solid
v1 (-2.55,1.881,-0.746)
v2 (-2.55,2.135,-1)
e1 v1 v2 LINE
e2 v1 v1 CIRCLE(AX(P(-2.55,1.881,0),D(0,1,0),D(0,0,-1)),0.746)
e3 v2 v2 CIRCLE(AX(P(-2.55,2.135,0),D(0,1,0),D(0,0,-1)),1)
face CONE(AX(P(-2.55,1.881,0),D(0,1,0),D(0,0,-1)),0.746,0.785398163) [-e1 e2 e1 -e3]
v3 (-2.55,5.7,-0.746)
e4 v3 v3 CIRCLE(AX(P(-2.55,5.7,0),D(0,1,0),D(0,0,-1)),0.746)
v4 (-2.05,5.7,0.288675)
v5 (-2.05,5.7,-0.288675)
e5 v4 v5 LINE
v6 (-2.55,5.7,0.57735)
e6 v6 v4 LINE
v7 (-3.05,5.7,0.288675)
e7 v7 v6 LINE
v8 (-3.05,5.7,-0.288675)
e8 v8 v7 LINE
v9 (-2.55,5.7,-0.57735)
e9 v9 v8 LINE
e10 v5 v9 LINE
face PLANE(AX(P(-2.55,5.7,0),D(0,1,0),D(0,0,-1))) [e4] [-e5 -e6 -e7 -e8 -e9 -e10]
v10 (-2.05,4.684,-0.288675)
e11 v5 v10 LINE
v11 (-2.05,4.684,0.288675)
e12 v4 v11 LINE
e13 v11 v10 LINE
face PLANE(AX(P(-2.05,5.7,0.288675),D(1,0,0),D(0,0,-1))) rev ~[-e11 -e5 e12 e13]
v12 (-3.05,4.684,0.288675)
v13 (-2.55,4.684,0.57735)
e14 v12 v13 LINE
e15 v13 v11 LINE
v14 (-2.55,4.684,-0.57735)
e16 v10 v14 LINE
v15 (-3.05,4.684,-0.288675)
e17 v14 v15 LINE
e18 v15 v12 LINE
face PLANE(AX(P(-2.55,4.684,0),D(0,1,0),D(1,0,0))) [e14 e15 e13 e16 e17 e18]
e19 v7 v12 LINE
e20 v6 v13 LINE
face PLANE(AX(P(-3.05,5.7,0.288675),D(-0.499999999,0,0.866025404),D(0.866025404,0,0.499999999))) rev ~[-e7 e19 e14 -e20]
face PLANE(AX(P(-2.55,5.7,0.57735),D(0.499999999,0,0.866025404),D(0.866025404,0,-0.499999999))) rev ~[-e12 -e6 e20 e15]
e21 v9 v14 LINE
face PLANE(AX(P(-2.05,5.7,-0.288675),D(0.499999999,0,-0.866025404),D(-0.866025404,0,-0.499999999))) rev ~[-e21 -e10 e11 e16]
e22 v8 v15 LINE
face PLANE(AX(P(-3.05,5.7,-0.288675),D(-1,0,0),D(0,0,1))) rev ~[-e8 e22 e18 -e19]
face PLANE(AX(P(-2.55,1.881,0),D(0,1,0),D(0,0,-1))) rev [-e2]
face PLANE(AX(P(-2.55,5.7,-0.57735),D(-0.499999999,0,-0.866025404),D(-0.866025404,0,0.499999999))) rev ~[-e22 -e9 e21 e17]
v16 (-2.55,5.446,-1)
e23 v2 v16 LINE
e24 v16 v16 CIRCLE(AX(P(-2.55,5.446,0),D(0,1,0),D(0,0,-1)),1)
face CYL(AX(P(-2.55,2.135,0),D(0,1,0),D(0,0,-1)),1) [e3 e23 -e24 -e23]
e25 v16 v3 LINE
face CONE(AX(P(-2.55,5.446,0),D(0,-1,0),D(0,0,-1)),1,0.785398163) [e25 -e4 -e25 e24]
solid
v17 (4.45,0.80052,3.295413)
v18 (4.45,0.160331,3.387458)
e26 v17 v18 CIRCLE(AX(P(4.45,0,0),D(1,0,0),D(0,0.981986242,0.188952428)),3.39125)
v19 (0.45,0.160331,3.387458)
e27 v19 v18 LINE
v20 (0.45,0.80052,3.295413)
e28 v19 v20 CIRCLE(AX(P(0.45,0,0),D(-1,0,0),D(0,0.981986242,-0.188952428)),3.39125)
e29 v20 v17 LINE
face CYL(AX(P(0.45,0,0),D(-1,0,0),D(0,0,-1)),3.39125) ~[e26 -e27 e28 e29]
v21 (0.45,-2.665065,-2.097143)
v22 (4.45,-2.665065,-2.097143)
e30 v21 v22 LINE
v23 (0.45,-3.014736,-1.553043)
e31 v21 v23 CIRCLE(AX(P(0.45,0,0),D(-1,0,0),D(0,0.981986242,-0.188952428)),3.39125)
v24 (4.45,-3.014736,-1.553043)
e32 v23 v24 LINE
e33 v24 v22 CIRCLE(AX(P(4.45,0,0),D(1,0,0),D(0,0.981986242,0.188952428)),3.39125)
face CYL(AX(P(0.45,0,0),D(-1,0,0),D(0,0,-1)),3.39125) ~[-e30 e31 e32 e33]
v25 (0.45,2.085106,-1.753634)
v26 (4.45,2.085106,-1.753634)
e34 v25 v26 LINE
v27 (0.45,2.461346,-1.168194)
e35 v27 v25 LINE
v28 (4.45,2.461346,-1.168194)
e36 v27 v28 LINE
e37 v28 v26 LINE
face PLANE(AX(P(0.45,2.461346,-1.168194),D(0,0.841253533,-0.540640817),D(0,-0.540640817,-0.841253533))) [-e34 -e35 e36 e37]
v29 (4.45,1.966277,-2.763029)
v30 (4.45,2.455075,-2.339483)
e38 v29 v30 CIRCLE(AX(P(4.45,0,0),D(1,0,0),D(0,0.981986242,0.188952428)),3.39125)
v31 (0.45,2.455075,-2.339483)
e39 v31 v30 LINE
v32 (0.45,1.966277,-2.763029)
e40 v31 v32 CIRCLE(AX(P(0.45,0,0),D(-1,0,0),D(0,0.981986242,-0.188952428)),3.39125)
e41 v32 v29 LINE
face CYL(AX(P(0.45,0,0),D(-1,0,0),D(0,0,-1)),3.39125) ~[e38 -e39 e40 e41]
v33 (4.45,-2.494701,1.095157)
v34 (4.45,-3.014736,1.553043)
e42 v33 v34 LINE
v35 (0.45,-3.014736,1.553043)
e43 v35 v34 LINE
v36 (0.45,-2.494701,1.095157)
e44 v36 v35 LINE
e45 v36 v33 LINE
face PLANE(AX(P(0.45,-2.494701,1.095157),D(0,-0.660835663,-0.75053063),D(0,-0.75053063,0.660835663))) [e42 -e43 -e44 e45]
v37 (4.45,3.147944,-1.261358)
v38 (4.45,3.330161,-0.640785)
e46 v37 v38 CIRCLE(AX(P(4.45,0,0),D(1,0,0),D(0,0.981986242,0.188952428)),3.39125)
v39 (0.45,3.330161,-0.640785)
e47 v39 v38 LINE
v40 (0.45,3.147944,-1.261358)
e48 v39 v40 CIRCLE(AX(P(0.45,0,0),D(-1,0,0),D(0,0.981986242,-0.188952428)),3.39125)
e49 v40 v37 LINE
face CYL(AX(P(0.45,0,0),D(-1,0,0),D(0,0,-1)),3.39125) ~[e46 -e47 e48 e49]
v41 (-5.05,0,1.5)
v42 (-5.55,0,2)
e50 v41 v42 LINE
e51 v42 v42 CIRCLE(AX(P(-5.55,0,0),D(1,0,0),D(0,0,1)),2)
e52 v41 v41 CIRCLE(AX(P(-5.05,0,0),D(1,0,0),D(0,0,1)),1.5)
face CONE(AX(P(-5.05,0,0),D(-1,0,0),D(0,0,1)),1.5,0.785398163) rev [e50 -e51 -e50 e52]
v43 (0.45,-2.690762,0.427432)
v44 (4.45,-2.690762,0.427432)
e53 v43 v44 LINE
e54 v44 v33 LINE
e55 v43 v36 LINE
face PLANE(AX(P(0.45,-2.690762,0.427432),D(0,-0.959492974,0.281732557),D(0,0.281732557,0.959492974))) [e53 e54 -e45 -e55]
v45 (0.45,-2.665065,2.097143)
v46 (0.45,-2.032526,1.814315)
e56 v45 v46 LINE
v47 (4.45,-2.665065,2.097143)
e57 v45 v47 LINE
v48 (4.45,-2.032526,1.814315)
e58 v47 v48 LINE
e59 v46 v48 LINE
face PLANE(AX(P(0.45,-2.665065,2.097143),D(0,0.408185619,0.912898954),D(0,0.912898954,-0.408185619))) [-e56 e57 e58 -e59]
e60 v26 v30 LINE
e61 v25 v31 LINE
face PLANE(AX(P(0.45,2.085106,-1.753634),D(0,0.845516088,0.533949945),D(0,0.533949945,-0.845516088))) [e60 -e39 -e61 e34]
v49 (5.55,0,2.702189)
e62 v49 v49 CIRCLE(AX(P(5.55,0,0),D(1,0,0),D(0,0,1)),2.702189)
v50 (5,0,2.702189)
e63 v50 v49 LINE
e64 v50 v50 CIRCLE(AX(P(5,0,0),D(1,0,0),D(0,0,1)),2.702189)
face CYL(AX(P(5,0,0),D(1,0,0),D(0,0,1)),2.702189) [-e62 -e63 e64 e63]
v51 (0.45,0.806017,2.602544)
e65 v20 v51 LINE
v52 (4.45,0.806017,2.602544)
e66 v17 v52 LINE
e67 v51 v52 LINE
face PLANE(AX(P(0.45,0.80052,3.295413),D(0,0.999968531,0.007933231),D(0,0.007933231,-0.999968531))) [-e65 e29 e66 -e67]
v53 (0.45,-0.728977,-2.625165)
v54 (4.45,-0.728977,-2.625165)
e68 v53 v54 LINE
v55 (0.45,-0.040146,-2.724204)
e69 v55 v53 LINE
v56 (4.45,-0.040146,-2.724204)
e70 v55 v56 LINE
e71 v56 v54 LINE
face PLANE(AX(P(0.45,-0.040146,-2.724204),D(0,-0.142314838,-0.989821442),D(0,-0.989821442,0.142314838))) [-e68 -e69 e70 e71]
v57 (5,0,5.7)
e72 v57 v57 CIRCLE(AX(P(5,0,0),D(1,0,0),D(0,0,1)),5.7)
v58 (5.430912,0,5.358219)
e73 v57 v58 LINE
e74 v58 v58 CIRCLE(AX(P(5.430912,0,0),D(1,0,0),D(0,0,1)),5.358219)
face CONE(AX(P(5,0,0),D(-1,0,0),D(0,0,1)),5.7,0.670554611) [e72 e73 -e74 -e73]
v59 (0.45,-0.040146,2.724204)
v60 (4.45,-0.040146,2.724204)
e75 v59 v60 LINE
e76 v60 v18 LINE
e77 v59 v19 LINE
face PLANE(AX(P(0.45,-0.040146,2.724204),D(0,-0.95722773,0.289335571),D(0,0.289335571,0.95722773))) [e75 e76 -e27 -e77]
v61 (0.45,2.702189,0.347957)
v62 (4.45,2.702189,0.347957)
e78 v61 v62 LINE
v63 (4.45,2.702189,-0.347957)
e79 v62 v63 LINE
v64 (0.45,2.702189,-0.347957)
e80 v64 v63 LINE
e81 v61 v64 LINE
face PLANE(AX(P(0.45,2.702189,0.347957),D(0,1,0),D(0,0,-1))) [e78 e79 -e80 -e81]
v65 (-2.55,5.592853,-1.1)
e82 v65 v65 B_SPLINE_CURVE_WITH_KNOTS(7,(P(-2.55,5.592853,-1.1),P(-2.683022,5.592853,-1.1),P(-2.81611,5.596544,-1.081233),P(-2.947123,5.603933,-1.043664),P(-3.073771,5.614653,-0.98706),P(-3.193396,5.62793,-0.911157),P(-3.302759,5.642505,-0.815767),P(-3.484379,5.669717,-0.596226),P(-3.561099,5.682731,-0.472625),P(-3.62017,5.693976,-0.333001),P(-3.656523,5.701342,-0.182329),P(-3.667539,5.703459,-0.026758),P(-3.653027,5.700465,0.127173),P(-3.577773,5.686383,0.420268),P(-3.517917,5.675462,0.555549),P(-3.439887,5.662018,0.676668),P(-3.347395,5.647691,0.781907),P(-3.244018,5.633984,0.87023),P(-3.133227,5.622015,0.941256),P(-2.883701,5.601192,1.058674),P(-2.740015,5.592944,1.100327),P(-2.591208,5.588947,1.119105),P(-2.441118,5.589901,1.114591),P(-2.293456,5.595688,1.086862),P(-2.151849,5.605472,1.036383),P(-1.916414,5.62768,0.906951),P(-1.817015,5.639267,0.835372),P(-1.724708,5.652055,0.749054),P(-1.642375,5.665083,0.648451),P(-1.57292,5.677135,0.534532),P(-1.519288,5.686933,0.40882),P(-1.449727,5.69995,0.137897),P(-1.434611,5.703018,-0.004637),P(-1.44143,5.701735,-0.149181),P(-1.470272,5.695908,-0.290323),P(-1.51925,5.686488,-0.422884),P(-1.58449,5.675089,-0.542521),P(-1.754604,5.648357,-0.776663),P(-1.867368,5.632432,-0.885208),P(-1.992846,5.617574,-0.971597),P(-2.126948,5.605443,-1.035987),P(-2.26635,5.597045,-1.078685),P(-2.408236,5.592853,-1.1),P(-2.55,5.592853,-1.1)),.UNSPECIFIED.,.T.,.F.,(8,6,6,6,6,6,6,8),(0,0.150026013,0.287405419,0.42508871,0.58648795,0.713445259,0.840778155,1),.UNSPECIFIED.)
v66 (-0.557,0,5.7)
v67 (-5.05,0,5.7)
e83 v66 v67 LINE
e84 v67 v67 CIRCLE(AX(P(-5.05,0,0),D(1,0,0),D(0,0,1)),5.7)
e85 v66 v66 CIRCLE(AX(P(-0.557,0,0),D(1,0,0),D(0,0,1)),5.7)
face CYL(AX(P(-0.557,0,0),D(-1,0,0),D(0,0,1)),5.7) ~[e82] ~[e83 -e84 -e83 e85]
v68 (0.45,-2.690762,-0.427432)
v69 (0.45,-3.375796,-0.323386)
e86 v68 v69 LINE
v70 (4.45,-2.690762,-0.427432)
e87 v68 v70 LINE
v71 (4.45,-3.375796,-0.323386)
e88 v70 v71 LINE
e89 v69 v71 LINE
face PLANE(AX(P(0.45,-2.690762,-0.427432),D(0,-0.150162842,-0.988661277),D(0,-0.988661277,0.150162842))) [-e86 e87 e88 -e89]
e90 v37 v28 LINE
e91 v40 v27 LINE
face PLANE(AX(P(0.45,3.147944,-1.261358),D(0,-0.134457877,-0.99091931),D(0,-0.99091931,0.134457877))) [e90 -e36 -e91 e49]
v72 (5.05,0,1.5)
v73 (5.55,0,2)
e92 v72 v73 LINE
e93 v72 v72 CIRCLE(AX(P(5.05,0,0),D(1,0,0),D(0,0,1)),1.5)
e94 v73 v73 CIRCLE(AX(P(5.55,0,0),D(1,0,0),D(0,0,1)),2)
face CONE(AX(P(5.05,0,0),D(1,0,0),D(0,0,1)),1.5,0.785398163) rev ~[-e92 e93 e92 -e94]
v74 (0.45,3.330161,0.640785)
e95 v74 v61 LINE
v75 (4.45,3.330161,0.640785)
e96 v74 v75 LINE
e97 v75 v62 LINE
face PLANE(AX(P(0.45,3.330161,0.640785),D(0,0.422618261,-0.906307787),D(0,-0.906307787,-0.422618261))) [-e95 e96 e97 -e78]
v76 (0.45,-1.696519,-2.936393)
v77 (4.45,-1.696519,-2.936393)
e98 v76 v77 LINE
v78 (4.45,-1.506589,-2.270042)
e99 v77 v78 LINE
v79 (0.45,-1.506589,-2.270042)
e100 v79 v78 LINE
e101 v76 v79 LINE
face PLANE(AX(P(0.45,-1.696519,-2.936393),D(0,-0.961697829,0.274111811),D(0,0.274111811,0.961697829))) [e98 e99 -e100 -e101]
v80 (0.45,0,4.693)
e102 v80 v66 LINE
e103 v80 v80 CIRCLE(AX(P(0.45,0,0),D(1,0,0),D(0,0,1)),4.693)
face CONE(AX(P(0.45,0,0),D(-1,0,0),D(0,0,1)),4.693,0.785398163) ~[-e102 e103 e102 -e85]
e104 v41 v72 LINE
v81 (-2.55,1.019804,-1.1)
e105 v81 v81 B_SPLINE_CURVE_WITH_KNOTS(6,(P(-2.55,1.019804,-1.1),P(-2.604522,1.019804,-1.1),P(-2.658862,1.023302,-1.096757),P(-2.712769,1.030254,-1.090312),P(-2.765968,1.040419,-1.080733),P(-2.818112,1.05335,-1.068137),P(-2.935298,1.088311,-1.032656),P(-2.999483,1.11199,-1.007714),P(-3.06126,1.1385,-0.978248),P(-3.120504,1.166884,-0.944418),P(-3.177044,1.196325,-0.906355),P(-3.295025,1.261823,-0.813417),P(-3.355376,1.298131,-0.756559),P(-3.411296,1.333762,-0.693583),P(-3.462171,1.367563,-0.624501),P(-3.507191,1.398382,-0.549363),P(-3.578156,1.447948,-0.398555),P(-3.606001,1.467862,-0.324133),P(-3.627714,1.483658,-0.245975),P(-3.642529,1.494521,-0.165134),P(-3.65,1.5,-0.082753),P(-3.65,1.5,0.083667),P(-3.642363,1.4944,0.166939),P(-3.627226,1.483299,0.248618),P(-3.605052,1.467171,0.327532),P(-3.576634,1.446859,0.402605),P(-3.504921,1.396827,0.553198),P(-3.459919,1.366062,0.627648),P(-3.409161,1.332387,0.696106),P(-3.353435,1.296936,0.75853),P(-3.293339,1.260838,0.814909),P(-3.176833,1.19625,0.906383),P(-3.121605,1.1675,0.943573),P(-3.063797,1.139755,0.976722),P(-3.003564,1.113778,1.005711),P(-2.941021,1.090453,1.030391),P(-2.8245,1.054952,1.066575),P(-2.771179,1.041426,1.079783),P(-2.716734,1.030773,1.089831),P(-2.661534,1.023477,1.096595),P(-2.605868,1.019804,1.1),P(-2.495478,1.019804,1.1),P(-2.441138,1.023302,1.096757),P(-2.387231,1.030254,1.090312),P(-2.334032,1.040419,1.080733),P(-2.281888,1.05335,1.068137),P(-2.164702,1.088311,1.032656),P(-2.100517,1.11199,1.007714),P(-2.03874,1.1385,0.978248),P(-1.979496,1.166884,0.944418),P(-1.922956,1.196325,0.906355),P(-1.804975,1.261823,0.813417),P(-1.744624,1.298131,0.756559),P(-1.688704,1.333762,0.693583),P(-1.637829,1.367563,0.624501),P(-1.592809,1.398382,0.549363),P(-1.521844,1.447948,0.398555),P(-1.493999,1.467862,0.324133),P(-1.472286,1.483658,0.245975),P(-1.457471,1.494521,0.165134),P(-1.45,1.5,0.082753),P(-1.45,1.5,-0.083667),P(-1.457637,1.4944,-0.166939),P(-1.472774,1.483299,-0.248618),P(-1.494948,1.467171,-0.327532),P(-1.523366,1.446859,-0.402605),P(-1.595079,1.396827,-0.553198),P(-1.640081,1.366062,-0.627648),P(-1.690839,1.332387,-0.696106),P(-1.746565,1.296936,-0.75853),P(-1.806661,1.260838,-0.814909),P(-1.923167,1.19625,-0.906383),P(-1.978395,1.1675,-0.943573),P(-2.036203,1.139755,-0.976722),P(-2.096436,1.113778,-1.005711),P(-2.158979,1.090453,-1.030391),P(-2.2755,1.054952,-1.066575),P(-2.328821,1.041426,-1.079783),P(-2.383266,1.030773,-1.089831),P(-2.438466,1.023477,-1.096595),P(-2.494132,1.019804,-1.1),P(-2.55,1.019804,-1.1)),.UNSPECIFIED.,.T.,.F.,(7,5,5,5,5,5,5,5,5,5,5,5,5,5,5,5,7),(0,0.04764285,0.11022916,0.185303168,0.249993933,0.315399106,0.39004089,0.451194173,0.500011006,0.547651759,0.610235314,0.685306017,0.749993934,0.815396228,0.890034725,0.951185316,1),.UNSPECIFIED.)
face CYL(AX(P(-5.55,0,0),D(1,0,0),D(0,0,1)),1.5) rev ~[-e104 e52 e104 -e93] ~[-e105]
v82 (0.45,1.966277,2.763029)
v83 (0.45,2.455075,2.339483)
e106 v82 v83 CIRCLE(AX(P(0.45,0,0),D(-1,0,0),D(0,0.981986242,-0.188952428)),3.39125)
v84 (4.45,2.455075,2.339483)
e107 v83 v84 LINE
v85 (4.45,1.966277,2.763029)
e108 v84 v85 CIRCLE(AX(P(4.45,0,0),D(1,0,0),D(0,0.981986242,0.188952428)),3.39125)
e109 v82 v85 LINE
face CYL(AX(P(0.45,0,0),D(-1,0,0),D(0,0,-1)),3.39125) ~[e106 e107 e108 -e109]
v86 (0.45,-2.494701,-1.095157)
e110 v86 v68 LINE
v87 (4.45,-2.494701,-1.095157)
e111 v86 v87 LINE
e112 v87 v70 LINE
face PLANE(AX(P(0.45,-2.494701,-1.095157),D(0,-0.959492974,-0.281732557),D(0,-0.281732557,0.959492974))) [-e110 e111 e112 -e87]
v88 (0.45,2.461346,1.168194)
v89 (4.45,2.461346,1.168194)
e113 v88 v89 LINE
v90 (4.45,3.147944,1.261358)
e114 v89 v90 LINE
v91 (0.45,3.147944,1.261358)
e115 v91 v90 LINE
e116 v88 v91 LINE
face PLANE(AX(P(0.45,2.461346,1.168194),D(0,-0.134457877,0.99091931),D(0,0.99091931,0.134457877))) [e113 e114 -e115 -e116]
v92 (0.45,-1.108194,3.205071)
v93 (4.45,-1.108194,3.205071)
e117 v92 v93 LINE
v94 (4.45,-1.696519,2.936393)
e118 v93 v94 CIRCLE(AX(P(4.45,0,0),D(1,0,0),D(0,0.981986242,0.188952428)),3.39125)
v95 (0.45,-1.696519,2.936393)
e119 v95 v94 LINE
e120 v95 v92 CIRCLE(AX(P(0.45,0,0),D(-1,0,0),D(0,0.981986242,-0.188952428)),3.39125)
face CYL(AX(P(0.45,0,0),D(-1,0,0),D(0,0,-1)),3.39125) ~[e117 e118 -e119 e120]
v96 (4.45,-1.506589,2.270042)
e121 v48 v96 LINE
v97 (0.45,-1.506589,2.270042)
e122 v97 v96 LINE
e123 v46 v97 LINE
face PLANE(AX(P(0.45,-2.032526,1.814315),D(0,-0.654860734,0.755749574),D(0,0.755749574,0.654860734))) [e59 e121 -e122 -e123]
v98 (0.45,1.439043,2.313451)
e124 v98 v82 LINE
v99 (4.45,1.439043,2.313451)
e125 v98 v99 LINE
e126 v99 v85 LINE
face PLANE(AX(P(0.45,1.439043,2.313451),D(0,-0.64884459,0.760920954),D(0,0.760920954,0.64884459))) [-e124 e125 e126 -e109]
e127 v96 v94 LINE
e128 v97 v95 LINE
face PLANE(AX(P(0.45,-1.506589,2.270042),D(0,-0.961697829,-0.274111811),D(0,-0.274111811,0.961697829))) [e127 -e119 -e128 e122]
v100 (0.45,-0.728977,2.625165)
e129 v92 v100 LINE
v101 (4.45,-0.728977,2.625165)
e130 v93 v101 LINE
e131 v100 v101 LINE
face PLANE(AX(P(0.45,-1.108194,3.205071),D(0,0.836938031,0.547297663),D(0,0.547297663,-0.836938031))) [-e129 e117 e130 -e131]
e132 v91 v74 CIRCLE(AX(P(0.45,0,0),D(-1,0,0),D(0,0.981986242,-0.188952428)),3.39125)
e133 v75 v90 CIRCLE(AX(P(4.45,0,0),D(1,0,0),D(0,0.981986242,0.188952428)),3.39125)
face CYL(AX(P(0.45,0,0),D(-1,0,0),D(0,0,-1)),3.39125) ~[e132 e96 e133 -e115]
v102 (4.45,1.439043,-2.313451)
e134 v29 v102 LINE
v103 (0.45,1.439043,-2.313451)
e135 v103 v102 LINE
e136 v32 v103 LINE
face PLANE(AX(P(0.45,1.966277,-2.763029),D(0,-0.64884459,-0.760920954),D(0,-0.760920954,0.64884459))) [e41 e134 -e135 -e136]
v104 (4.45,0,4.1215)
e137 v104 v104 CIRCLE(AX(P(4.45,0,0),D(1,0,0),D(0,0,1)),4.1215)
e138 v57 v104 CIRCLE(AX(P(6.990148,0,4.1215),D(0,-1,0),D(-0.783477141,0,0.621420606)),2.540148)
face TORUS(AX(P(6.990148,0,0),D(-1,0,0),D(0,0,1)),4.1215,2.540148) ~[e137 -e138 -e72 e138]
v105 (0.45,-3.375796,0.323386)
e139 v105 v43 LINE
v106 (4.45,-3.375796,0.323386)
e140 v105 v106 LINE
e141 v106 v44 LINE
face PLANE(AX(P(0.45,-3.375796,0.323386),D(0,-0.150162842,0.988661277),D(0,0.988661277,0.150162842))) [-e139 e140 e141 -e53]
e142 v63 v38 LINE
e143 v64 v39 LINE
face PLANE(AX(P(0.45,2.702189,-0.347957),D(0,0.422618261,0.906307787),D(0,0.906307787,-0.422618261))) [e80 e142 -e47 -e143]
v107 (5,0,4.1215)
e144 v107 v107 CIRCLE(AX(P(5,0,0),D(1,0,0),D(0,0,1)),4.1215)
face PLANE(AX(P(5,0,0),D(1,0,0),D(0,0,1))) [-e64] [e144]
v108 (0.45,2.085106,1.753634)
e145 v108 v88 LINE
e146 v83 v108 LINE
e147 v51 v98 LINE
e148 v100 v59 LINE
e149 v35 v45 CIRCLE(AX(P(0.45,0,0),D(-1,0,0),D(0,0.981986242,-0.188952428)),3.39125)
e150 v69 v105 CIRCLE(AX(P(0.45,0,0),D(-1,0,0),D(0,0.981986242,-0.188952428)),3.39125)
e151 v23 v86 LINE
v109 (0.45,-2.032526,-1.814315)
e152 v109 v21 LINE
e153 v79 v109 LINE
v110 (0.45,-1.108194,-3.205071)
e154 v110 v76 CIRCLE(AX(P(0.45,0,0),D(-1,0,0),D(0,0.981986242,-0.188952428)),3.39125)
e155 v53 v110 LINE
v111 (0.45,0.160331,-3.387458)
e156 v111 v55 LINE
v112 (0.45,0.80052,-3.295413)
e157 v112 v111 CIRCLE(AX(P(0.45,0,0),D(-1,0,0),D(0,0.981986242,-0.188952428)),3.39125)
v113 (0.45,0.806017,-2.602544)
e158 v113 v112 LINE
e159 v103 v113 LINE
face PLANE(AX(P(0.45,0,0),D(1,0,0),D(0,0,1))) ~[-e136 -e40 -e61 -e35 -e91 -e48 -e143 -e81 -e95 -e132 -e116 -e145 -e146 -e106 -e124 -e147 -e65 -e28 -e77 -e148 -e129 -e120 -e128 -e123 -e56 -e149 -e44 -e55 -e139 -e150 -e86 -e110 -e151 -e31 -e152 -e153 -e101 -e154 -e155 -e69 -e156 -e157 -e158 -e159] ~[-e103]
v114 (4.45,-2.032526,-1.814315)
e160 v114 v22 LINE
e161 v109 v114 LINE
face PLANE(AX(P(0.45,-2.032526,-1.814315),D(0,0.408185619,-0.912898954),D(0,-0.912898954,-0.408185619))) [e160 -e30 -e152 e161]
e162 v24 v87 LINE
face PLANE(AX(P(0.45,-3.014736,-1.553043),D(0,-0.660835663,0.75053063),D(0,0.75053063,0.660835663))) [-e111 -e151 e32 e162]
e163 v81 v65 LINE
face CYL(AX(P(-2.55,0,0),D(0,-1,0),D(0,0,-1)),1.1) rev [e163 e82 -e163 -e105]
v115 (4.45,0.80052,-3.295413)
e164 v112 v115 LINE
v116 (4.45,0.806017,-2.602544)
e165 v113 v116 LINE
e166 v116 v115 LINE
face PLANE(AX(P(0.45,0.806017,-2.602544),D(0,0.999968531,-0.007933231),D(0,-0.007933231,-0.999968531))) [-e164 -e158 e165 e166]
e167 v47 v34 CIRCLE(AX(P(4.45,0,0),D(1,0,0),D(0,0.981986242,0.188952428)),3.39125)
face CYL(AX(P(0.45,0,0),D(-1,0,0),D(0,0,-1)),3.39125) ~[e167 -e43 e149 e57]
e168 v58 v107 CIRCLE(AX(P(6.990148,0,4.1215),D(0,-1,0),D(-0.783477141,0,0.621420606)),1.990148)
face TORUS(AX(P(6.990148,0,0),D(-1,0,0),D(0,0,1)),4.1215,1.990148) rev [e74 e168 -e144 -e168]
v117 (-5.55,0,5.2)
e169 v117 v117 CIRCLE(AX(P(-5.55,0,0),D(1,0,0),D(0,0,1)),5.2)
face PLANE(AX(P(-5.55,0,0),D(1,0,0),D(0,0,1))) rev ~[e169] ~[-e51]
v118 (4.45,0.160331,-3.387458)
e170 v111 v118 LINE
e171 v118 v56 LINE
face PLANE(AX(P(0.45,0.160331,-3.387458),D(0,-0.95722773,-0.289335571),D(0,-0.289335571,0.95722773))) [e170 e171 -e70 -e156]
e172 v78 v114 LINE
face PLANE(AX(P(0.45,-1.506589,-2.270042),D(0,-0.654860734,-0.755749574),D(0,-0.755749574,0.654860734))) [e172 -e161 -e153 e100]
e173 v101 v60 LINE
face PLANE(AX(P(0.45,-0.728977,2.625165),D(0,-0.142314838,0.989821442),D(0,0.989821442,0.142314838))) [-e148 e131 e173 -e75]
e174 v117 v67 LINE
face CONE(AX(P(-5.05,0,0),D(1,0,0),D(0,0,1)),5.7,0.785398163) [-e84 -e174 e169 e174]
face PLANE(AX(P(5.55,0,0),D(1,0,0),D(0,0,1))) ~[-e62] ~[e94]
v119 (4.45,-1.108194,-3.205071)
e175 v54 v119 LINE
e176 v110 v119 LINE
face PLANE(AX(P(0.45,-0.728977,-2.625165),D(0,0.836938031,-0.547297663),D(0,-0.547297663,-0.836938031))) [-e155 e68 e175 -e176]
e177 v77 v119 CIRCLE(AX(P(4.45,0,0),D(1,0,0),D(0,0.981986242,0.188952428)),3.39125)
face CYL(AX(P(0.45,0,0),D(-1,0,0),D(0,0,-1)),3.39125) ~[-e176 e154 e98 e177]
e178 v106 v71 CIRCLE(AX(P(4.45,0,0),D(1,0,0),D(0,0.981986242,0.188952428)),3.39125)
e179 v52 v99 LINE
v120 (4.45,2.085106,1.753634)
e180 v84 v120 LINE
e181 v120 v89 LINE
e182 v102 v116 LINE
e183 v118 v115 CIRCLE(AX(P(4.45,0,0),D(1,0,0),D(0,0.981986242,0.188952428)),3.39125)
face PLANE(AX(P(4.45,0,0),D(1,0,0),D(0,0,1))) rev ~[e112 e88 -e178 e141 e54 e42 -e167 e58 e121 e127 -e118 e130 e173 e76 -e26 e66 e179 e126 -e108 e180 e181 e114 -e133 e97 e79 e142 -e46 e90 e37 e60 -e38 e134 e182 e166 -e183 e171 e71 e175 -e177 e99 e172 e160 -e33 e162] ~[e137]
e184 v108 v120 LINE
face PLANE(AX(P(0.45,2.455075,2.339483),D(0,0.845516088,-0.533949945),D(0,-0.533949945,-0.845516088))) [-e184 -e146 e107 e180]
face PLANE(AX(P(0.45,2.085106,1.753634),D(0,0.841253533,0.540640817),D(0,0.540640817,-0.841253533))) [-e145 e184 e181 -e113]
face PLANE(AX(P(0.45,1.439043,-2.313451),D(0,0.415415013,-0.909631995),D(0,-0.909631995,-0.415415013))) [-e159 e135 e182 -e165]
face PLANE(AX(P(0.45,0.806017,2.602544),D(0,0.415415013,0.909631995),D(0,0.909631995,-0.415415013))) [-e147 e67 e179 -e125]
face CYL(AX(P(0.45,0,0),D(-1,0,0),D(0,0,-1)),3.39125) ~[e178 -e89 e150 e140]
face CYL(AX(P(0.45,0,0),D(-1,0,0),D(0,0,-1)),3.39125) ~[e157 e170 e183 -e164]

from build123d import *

# Parameters (mm, degrees)
SKETCH4_R          = 3.55
SKETCH4_R_2        = 3.39125
CUT_EXTRUDE2_DEPTH = 4
CUT_EXTRUDE1_DEPTH = 4
CIRPATTERN1_COUNT  = 11
SKETCH6_R          = 1.1
CUT_EXTRUDE3_DEPTH = 10.786853427
CUT_EXTRUDE4_DEPTH = 1.016
CHAMFER1_SIZE      = 0.5


with BuildPart() as part:
    # Sketch1 → Revolve1 (revolve)
    with BuildSketch(Plane.XY, mode=Mode.PRIVATE) as revolve1_sk:
        with BuildLine():
            Line((-5.55, 1.5), (5.55, 1.5))
            Line((5.55, 1.5), (5.55, 5.7))
            Line((5.55, 5.7), (5, 5.7))
            ThreePointArc((5, 5.7), (4.591437689, 4.957287391), (4.45, 4.1215))
            Line((4.45, 4.1215), (4.45, 3.55))
            Line((4.45, 3.55), (0.45, 3.55))
            Line((0.45, 3.55), (0.45, 4.693))
            Line((0.45, 4.693), (-0.557, 5.7))
            Line((-0.557, 5.7), (-5.55, 5.7))
            Line((-5.55, 5.7), (-5.55, 1.5))
        make_face()
    revolve(revolve1_sk.sketch.rotate(Axis((-5.55, 0, 0), (1, 0, 0)), 90), axis=Axis((-5.55, 0, 0), (1, 0, 0)))

    # Sketch4 → Cut-Extrude2 (cut)
    with BuildSketch(Plane(origin=(0.45, 0, 0), x_dir=(0, 0, -1), z_dir=(1, 0, 0))):
        Circle(SKETCH4_R)
        Circle(SKETCH4_R_2, mode=Mode.SUBTRACT)
    extrude(amount=CUT_EXTRUDE2_DEPTH, mode=Mode.SUBTRACT)

    # Sketch3 → Cut-Extrude1 (cut)
    with BuildSketch(Plane(origin=(0.45, 0, 0), x_dir=(0, 0, -1), z_dir=(1, 0, 0))):
        with BuildLine():
            Line((-0.64078492, 3.330160844), (-0.347956913, 2.702189156))
            Line((-0.347956913, 2.702189156), (0.347956913, 2.702189156))
            Line((0.347956913, 2.702189156), (0.64078492, 3.330160844))
            ThreePointArc((0.64078492, 3.330160844), (0, 3.39125), (-0.64078492, 3.330160844))
        make_face()
    cut_extrude1 = extrude(amount=CUT_EXTRUDE1_DEPTH, mode=Mode.SUBTRACT)

    # CirPattern1: Cut-Extrude1 ×11 about axis
    cirpattern1_axis = Axis((0, 0, 0), (1, 0, 0))
    for i in range(1, CIRPATTERN1_COUNT):
        add(cut_extrude1.rotate(cirpattern1_axis, i * 360 / CIRPATTERN1_COUNT), mode=Mode.SUBTRACT)

    # Sketch6 → Cut-Extrude3 (cut, through all)
    with BuildSketch(Plane(origin=(0, 0, 0), x_dir=(1, 0, 0), z_dir=(0, 1, 0))):
        with Locations(Location((-2.55, 0, 0), (0, 0, 90))):
            Circle(SKETCH6_R)
    extrude(amount=CUT_EXTRUDE3_DEPTH, mode=Mode.SUBTRACT)

    # Chamfer1
    chamfer1_edges = [part.edges().sort_by_distance(p)[0] for p in [
        (-5.55, 0, -5.7),
        (-5.55, 0, -1.5),
        (5.55, 0, -1.5),
    ]]
    chamfer(chamfer1_edges, length=CHAMFER1_SIZE)

    # Sketch9 → Cut-Revolve1 (revolve, cut)
    with BuildSketch(Plane.XY, mode=Mode.PRIVATE) as cut_revolve1_sk:
        with BuildLine():
            Line((5.55, 2.702189156), (5.55, 5.7))
            Line((5.55, 5.7), (5.212389964, 5.967777862))
            Line((5.212389964, 5.967777862), (5, 5.7))
            Line((5, 5.7), (5.430912427, 5.358218666))
            ThreePointArc((5.430912427, 5.358218666), (5.110813196, 4.776320315), (5, 4.1215))
            Line((5, 4.1215), (5, 2.702189156))
            Line((5, 2.702189156), (5.55, 2.702189156))
        make_face()
    revolve(cut_revolve1_sk.sketch.rotate(Axis((-5.55, 0, 0), (1, 0, 0)), 90), axis=Axis((-5.55, 0, 0), (1, 0, 0)), mode=Mode.SUBTRACT)


with BuildPart() as body_2:
    # Sketch7 → Revolve2 (revolve)
    with BuildSketch(Plane.XY, mode=Mode.PRIVATE) as revolve2_sk:
        Polygon((-3.296, 5.7), (-2.55, 5.7), (-2.55, 1.881), (-3.296, 1.881), (-3.55, 2.135), (-3.55, 5.446), align=None)
    revolve(revolve2_sk.sketch.rotate(Axis((-2.55, 1.881, 0), (0, 1, 0)), 270), axis=Axis((-2.55, 1.881, 0), (0, 1, 0)))

    # Sketch8 → Cut-Extrude4 (cut)
    with BuildSketch(Plane(origin=(0, 5.7, 0), x_dir=(1, 0, 0), z_dir=(0, 1, 0))):
        Polygon((-2.55, 0.577350269), (-3.05, 0.288675135), (-3.05, -0.288675135), (-2.55, -0.577350269), (-2.05, -0.288675135), (-2.05, 0.288675135), align=None)
    extrude(amount=-CUT_EXTRUDE4_DEPTH, mode=Mode.SUBTRACT)


solid = Compound([part.part, body_2.part])
